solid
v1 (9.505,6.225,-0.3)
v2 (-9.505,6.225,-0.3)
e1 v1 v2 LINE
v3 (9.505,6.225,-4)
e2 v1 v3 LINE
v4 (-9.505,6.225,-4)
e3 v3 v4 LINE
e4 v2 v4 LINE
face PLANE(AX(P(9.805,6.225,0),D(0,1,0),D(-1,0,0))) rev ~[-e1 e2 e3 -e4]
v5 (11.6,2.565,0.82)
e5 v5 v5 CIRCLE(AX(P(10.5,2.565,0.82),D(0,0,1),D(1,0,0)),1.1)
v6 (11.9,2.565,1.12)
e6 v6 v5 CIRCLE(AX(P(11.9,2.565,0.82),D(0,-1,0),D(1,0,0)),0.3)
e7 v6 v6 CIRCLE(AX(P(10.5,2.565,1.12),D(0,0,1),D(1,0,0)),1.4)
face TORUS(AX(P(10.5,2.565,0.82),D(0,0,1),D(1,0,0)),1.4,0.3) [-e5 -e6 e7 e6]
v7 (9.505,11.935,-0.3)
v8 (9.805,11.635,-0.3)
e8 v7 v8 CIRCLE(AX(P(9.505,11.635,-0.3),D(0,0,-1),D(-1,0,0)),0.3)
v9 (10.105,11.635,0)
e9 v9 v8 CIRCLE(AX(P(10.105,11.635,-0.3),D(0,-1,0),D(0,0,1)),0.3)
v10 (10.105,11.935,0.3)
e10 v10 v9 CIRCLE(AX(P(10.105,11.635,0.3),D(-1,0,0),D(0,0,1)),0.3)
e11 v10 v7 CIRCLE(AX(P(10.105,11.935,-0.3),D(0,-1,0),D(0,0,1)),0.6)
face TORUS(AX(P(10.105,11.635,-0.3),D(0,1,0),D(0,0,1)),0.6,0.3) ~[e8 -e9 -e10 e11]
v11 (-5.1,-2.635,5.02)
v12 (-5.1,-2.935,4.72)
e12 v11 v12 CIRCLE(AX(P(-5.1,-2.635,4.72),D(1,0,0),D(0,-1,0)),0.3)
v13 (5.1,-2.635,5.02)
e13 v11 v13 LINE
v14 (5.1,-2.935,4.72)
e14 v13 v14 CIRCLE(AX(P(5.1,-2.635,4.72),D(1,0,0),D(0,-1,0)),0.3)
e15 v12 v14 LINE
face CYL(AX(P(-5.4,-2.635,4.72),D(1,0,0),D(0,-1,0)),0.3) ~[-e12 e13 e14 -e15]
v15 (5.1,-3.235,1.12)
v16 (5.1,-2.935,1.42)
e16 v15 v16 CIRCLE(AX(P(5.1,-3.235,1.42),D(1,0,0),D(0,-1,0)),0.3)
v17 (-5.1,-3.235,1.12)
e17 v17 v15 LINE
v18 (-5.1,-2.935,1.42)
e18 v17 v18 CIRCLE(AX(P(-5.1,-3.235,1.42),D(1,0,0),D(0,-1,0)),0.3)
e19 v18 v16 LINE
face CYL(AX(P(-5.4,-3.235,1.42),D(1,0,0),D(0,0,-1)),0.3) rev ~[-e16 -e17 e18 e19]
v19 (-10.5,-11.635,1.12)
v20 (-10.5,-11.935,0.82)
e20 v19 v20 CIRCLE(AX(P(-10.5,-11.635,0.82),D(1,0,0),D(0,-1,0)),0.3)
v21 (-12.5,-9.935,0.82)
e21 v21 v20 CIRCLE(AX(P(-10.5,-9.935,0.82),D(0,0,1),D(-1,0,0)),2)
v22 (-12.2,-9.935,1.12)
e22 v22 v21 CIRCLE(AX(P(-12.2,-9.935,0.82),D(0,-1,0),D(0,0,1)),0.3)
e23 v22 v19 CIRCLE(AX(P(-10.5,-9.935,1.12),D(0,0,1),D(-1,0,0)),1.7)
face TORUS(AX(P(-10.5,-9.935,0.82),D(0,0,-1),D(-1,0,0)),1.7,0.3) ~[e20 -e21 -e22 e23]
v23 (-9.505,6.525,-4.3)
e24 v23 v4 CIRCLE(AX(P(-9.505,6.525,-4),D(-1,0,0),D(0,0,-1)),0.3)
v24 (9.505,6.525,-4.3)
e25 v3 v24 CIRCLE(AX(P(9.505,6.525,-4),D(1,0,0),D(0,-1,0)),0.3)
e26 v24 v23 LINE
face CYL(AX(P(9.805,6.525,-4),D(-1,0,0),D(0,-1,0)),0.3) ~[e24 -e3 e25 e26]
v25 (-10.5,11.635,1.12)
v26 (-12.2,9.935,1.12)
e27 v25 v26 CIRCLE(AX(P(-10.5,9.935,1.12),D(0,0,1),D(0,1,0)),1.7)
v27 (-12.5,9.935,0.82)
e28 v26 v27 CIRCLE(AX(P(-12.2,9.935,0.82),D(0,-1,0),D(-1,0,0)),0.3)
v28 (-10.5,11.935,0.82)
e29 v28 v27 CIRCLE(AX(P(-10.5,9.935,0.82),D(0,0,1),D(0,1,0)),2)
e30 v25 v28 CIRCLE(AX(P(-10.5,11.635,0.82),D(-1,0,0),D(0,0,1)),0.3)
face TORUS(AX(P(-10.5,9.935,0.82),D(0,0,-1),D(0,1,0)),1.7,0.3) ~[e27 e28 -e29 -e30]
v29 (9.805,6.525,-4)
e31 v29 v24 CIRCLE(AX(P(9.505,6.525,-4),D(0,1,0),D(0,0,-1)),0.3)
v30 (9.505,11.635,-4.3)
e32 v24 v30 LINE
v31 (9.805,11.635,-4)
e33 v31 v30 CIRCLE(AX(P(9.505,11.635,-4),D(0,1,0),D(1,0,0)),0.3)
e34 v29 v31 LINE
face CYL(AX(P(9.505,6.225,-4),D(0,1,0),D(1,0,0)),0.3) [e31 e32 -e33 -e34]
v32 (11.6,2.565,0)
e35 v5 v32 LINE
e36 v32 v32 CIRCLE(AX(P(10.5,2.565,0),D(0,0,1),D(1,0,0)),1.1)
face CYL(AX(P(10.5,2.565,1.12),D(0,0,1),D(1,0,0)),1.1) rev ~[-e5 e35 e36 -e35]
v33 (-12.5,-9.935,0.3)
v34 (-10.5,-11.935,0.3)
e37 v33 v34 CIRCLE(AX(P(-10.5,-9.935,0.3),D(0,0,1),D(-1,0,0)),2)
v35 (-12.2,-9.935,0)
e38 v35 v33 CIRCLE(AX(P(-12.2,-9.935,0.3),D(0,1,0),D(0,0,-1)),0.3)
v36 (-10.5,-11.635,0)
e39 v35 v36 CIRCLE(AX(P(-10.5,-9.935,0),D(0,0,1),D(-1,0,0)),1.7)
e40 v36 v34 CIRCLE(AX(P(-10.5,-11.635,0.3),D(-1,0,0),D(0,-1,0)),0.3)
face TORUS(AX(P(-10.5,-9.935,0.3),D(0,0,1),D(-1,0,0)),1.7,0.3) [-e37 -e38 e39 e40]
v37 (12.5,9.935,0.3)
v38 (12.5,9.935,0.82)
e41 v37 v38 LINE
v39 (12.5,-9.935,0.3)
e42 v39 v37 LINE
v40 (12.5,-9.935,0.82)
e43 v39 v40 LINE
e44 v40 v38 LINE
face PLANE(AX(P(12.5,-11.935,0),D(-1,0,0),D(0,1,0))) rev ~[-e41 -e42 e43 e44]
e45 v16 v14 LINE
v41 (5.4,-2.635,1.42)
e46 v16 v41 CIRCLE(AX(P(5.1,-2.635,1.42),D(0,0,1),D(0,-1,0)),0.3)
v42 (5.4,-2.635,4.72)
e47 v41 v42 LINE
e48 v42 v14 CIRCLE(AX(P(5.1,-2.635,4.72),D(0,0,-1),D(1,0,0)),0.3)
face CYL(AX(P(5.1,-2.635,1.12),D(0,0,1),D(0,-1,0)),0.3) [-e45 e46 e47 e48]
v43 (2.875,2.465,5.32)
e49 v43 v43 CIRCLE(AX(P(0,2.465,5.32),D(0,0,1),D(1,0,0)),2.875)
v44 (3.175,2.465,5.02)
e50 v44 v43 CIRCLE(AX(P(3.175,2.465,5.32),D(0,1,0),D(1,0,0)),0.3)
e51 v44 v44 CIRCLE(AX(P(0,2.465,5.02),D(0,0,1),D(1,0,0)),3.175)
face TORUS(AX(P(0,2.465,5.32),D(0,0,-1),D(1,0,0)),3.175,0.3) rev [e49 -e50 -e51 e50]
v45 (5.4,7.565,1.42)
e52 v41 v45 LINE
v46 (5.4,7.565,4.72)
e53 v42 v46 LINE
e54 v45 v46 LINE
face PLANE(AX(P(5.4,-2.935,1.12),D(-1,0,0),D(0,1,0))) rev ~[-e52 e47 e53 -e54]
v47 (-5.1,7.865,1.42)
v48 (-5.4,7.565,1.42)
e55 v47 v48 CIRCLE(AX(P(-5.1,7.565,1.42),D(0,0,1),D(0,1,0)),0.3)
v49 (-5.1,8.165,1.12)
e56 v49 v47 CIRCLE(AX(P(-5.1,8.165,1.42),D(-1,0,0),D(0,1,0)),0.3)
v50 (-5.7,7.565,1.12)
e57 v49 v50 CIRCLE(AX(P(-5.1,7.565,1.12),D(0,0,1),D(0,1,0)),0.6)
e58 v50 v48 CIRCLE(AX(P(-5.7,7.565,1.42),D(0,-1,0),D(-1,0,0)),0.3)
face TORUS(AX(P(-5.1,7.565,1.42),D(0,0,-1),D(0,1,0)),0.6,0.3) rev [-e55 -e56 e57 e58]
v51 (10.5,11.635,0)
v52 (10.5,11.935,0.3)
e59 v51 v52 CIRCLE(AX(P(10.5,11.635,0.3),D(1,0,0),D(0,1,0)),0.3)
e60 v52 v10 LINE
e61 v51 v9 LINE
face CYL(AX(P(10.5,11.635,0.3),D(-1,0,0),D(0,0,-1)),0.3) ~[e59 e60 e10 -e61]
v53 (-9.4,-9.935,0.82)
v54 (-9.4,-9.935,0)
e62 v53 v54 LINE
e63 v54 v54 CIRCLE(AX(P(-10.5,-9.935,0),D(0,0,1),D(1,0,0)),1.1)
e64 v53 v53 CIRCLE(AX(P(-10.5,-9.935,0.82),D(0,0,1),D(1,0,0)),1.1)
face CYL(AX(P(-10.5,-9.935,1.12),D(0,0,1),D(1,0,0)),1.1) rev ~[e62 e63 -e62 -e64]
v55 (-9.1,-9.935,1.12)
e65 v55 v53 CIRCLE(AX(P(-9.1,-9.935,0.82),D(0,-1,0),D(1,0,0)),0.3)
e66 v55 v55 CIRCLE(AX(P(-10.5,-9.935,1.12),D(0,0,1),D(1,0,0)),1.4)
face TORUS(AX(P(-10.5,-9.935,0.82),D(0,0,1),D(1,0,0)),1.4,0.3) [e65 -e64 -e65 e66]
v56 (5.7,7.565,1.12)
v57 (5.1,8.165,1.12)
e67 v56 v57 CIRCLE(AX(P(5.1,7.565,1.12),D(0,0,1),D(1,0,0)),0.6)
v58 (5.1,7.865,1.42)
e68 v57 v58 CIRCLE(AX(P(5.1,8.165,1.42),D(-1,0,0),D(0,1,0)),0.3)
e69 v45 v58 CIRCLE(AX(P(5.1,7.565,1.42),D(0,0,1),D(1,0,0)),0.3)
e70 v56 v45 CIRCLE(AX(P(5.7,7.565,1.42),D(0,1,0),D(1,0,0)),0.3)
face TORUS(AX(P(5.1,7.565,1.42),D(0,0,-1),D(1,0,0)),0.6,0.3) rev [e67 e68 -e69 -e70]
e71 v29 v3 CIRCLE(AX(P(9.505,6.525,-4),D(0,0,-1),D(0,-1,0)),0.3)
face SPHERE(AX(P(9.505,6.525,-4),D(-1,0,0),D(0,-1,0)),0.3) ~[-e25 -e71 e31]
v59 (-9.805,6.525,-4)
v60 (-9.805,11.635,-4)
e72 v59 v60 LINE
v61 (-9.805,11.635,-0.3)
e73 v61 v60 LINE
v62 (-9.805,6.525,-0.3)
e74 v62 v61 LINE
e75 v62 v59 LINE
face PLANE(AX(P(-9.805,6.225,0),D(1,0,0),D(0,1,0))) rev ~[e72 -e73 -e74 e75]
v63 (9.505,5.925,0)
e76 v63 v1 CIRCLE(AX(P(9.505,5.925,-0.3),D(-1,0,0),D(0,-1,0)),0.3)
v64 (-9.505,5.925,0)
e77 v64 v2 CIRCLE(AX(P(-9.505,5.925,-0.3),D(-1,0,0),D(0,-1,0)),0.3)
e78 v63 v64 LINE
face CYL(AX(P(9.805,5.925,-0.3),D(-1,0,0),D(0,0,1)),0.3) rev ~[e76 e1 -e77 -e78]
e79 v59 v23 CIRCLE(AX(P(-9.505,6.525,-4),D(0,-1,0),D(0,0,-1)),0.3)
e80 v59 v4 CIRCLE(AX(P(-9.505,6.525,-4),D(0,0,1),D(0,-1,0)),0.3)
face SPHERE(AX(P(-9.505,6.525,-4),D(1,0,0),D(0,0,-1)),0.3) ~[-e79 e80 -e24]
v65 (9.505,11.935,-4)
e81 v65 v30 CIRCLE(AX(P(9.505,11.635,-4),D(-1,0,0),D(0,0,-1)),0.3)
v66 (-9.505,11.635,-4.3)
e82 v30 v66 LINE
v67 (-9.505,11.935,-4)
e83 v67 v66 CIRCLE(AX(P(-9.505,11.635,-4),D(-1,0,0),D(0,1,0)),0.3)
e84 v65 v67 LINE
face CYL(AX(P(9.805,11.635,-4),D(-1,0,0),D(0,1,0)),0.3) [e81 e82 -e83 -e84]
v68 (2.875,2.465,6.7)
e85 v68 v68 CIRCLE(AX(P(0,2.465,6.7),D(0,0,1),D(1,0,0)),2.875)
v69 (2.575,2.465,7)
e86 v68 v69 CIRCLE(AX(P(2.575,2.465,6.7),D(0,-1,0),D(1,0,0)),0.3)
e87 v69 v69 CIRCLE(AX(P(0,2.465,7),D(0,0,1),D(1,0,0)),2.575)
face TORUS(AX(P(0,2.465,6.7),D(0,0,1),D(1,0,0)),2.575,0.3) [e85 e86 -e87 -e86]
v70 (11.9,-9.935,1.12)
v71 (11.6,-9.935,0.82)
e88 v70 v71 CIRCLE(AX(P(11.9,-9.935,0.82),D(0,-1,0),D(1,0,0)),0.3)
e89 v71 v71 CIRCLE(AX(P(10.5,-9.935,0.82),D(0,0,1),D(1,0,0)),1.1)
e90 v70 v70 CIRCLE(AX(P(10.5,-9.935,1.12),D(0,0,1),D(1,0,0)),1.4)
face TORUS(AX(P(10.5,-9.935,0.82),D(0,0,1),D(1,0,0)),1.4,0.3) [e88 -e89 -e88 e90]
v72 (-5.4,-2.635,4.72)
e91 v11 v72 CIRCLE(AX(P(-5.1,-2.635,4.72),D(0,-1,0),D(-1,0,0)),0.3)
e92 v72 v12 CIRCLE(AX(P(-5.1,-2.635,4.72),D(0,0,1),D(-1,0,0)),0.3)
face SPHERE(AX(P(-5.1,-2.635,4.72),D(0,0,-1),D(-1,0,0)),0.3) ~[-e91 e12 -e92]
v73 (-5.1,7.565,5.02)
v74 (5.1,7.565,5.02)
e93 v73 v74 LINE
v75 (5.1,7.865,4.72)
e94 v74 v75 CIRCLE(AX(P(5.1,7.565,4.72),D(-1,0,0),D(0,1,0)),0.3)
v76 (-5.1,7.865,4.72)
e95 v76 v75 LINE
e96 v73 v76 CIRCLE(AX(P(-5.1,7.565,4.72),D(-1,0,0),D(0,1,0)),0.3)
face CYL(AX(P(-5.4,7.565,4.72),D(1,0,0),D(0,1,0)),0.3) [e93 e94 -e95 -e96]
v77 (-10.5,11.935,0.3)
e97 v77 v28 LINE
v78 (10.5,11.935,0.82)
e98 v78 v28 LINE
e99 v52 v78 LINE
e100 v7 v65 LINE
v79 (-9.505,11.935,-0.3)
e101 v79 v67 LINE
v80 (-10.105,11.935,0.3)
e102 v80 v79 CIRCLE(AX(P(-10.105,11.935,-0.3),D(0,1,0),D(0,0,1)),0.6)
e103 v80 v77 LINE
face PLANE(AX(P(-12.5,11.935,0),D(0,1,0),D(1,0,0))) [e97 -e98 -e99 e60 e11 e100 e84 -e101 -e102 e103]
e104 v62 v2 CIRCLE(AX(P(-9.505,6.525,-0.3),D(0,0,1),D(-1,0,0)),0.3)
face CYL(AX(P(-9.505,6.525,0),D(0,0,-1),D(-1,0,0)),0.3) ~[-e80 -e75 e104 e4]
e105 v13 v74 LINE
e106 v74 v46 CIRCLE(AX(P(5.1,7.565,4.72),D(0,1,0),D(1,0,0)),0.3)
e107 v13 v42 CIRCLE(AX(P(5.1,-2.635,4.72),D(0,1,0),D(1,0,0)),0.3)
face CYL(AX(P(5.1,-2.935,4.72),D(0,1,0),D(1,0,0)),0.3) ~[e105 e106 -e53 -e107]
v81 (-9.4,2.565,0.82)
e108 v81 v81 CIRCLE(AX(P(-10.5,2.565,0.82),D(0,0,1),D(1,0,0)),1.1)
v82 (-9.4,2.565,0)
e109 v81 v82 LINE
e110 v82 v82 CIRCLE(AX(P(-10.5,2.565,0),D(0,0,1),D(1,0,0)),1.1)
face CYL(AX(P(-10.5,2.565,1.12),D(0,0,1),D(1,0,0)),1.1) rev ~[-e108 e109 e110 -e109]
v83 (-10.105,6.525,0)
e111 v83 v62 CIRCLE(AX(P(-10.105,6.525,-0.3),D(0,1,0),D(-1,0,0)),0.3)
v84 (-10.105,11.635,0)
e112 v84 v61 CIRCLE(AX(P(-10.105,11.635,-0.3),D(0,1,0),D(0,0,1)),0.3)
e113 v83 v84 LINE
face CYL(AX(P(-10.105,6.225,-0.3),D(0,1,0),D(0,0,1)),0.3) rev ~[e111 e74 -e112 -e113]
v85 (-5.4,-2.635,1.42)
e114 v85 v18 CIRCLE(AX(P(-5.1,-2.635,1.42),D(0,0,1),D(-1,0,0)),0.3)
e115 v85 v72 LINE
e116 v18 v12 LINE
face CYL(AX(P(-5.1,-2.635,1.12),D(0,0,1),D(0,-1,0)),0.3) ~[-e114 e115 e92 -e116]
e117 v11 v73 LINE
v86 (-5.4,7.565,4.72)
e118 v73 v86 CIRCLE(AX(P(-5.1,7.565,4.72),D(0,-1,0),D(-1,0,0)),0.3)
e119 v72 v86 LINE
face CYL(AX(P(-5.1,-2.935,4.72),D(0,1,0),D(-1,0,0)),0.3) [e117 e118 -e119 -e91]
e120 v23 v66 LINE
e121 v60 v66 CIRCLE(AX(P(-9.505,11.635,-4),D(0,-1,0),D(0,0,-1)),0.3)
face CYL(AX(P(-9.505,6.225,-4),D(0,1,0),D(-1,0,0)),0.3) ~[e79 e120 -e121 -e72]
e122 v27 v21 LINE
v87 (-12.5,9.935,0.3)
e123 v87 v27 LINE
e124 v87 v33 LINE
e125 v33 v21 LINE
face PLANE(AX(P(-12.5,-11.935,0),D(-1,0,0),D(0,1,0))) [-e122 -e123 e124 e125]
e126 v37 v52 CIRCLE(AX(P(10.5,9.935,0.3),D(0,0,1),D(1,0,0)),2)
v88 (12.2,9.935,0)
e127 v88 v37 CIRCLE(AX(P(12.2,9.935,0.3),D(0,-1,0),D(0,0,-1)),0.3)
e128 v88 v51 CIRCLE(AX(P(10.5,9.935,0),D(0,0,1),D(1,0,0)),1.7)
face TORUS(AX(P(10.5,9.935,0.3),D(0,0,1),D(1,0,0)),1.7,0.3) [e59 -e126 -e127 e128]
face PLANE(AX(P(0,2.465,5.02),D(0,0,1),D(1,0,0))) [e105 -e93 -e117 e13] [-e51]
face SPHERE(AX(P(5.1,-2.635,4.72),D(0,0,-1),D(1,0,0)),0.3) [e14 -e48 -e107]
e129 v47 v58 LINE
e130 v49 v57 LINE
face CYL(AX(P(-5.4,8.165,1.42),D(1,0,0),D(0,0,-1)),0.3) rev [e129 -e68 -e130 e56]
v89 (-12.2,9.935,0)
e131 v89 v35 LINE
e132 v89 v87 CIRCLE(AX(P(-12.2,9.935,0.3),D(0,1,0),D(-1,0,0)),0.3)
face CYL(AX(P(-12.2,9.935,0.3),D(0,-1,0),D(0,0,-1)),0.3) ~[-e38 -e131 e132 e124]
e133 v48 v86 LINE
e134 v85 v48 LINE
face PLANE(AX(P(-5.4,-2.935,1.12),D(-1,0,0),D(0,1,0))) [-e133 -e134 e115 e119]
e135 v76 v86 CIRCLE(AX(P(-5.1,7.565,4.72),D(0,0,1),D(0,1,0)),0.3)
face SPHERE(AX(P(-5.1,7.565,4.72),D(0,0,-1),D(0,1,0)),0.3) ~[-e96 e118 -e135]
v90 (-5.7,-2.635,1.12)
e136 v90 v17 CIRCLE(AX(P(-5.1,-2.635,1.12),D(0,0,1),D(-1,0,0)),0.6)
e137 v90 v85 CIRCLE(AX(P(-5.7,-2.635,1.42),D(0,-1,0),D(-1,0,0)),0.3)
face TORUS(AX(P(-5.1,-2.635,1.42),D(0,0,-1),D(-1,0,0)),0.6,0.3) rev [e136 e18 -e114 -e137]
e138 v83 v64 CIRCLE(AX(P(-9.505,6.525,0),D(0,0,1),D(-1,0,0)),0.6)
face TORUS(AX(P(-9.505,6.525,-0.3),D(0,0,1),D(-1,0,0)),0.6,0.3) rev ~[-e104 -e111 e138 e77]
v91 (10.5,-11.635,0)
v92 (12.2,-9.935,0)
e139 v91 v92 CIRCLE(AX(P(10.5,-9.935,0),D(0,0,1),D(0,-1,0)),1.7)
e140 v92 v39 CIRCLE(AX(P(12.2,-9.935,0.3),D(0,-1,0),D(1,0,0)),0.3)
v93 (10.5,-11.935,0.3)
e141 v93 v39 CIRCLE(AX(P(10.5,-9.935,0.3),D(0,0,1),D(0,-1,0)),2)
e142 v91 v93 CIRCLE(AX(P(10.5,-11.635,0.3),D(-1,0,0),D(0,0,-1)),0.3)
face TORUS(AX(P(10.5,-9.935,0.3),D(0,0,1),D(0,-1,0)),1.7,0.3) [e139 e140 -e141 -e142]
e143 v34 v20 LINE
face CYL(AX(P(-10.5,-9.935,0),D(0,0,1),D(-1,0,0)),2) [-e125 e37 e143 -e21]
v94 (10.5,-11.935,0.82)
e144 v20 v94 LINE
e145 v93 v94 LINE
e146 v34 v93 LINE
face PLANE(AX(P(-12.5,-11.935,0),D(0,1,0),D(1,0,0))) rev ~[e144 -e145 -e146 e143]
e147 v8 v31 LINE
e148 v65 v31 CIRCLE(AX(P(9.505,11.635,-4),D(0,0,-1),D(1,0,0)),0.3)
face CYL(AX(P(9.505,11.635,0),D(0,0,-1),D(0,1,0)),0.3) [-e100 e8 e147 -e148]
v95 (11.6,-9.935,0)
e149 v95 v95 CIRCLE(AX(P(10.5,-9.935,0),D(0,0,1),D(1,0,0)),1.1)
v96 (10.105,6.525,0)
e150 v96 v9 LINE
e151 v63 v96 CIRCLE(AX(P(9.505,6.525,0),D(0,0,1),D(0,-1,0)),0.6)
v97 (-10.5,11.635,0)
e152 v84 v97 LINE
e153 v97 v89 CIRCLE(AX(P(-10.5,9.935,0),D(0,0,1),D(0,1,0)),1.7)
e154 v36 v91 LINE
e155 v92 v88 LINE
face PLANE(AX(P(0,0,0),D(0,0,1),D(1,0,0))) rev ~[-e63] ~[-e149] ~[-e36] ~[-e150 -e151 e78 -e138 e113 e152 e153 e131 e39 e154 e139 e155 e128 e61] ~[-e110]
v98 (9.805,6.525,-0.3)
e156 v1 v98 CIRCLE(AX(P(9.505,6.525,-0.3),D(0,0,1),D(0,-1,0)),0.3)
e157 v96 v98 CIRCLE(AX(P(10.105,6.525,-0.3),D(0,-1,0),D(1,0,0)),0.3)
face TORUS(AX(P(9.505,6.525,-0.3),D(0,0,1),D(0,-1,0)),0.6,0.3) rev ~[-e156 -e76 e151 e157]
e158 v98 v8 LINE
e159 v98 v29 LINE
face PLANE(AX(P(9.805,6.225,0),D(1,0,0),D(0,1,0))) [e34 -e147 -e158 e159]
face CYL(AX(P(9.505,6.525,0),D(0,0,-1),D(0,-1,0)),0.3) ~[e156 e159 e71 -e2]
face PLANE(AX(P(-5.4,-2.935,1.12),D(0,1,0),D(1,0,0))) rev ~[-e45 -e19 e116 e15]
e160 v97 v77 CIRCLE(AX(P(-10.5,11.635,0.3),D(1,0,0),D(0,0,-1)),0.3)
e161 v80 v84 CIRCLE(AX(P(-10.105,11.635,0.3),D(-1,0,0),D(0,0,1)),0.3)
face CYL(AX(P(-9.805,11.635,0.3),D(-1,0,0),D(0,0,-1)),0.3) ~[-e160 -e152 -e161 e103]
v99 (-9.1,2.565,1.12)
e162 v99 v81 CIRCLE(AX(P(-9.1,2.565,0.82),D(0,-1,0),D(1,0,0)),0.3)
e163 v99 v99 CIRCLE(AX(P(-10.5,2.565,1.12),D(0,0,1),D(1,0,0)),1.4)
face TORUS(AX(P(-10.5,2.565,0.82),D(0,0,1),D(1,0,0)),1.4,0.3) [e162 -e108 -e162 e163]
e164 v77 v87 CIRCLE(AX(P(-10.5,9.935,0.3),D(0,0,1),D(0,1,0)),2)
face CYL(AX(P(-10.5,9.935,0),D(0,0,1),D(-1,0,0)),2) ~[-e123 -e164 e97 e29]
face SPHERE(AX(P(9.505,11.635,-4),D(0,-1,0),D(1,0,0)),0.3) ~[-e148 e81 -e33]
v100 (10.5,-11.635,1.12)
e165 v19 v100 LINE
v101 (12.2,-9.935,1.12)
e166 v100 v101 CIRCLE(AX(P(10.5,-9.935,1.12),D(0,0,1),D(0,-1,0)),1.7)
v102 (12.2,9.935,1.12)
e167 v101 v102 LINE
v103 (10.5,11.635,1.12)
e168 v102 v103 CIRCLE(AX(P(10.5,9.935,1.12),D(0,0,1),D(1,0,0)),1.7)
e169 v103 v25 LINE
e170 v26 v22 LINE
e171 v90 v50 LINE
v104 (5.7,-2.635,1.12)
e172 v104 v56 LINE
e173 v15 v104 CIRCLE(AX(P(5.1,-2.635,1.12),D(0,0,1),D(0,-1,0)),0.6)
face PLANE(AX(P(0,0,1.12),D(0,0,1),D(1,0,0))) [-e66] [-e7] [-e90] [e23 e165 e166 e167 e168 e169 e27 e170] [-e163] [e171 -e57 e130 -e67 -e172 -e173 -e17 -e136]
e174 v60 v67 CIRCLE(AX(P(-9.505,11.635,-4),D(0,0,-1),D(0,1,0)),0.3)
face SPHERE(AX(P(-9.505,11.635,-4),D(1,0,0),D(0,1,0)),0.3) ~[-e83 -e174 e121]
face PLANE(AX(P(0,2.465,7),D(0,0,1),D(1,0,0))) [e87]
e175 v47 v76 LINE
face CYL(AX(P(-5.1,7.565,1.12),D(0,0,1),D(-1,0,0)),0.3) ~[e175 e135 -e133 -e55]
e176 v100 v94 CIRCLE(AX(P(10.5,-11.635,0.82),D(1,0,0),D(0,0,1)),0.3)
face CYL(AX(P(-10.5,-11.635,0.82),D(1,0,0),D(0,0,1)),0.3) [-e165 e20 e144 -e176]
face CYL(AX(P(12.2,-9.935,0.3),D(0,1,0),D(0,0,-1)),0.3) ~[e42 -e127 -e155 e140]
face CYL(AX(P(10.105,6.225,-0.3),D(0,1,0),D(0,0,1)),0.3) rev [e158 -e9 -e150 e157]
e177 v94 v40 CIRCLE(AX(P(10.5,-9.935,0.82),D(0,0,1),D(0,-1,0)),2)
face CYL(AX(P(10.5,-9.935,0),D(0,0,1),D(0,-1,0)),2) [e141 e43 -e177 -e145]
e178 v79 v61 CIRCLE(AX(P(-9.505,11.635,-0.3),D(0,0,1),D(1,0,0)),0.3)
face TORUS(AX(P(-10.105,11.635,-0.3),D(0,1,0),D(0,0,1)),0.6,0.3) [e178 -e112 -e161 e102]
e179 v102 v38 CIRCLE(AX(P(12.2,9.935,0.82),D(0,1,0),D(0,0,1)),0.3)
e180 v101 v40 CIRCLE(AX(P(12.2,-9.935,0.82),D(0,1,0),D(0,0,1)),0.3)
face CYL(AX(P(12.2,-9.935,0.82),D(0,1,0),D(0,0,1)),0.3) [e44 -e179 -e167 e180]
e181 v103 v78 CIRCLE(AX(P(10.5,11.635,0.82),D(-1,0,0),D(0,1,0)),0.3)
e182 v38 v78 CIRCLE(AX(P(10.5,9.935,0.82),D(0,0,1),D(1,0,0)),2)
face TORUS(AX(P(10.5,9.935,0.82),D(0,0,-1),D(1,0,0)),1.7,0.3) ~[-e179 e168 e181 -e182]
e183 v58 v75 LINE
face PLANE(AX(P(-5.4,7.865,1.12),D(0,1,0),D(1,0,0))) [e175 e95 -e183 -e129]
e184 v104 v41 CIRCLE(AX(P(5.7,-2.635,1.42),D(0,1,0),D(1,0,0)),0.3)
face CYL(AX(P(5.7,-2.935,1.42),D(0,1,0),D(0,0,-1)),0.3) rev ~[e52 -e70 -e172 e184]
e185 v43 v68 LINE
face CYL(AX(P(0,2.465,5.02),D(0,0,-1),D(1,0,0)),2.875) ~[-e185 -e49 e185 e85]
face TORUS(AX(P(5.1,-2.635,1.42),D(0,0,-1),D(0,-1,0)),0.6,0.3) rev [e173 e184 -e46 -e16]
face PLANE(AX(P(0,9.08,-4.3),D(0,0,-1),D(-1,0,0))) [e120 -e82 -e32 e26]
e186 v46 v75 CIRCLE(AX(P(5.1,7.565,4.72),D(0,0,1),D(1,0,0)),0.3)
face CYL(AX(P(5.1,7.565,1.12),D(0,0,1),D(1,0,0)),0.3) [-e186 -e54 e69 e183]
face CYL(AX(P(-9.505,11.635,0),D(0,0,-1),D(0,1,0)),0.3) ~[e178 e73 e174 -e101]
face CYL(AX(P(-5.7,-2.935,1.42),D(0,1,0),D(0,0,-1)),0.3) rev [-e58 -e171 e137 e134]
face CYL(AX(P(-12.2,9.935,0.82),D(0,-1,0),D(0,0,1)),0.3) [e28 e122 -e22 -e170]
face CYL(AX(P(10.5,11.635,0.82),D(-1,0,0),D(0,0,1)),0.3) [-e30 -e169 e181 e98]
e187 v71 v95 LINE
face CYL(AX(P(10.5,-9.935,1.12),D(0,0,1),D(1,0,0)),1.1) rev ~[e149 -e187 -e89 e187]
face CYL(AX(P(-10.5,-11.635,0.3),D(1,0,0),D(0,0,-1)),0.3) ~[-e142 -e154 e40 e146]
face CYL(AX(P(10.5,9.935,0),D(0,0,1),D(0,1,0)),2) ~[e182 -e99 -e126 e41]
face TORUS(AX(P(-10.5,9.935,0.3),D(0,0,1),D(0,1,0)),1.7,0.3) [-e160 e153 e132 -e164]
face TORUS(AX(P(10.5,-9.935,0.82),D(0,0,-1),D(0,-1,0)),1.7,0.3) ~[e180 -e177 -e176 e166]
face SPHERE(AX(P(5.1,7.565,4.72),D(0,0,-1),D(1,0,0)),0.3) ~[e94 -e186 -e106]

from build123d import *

# Parameters (mm, degrees)
SKETCH1_W           = 25
SKETCH1_H           = 23.87
BOSS_EXTRUDE1_DEPTH = 1.12
SKETCH2_W           = 10.8
SKETCH2_H           = 10.8
BOSS_EXTRUDE2_DEPTH = 3.9
SKETCH3_R           = 2.875
BOSS_EXTRUDE3_DEPTH = 1.98
SKETCH4_R           = 1.1
CUT_EXTRUDE1_DEPTH  = 7
FILLET1_R           = 2
SKETCH5_W           = 19.61
SKETCH5_H           = 5.71
BOSS_EXTRUDE4_DEPTH = 4.3
FILLET2_R           = 0.3
FILLET3_R           = 0.3


with BuildPart() as part:
    # Sketch1 → Boss-Extrude1 (new body)
    with BuildSketch(Plane.XY):
        Rectangle(SKETCH1_W, SKETCH1_H)
    extrude(amount=BOSS_EXTRUDE1_DEPTH)

    # Sketch2 → Boss-Extrude2 (add)
    with BuildSketch(Plane.XY.offset(1.12)):
        with Locations((0, 2.465)):
            Rectangle(SKETCH2_W, SKETCH2_H)
    extrude(amount=BOSS_EXTRUDE2_DEPTH)

    # Sketch3 → Boss-Extrude3 (add)
    with BuildSketch(Plane.XY.offset(5.02)):
        with Locations((0, 2.465)):
            Circle(SKETCH3_R)
    extrude(amount=BOSS_EXTRUDE3_DEPTH)

    # Sketch4 → Cut-Extrude1 (cut)
    with BuildSketch(Plane.XY.offset(1.12)):
        with Locations((-10.5, 2.565)):
            Circle(SKETCH4_R)
        with Locations((-10.5, -9.935)):
            Circle(SKETCH4_R)
        with Locations((10.5, -9.935)):
            Circle(SKETCH4_R)
        with Locations((10.5, 2.565)):
            Circle(SKETCH4_R)
    extrude(amount=-CUT_EXTRUDE1_DEPTH, mode=Mode.SUBTRACT)

    # Fillet1
    fillet1_edges = [part.edges().sort_by_distance(p)[0] for p in [
        (12.5, -11.935, 0.56),
        (-12.5, -11.935, 0.56),
        (-12.5, 11.935, 0.56),
        (12.5, 11.935, 0.56),
    ]]
    fillet(fillet1_edges, radius=FILLET1_R)

    # Sketch5 → Boss-Extrude4 (add)
    with BuildSketch(Plane(origin=(0, 0, 0), x_dir=(-1, 0, 0), z_dir=(0, 0, -1))):
        with Locations((0, 9.08)):
            Rectangle(SKETCH5_W, SKETCH5_H)
    extrude(amount=BOSS_EXTRUDE4_DEPTH)

    # Fillet2
    fillet2_edges = [part.edges().sort_by_distance(p)[0] for p in [
        (5.4, 2.465, 1.12),
        (5.4, -2.935, 3.07),
        (0, 7.865, 1.12),
        (5.4, 7.865, 3.07),
        (-5.4, 2.465, 1.12),
        (-5.4, 7.865, 3.07),
        (0, -2.935, 1.12),
        (-5.4, -2.935, 3.07),
        (5.4, 2.465, 5.02),
        (0, 7.865, 5.02),
        (-5.4, 2.465, 5.02),
        (0, -2.935, 5.02),
        (-2.875, 2.465, 5.02),
        (-2.875, 2.465, 7),
        (12.5, 0, 0),
        (0, -11.935, 0),
        (-12.5, 0, 0),
        (10.1525, 11.935, 0),
        (-11.914213562, 11.349213562, 0),
        (11.914213562, 11.349213562, 0),
        (-11.914213562, -11.349213562, 0),
        (11.914213562, -11.349213562, 0),
        (-10.1525, 11.935, 0),
        (0, 6.225, -4.3),
        (9.805, 6.225, -2.15),
        (0, 6.225, 0),
        (9.805, 9.08, -4.3),
        (9.805, 11.935, -2.15),
        (9.805, 9.08, 0),
        (0, 11.935, -4.3),
        (-9.805, 11.935, -2.15),
        (-9.805, 9.08, -4.3),
        (-9.805, 6.225, -2.15),
        (-9.805, 9.08, 0),
    ]]
    fillet(fillet2_edges, radius=FILLET2_R)

    # Fillet3
    fillet3_edges = [part.edges().sort_by_distance(p)[0] for p in [
        (9.4, 2.565, 1.12),
        (9.4, -9.935, 1.12),
        (-11.6, -9.935, 1.12),
        (-11.6, 2.565, 1.12),
        (12.5, 0, 1.12),
        (0, -11.935, 1.12),
        (0, 11.935, 1.12),
        (-12.5, 0, 1.12),
        (-11.914213562, 11.349213562, 1.12),
        (11.914213562, 11.349213562, 1.12),
        (-11.914213562, -11.349213562, 1.12),
        (11.914213562, -11.349213562, 1.12),
    ]]
    fillet(fillet3_edges, radius=FILLET3_R)


solid = part.part
